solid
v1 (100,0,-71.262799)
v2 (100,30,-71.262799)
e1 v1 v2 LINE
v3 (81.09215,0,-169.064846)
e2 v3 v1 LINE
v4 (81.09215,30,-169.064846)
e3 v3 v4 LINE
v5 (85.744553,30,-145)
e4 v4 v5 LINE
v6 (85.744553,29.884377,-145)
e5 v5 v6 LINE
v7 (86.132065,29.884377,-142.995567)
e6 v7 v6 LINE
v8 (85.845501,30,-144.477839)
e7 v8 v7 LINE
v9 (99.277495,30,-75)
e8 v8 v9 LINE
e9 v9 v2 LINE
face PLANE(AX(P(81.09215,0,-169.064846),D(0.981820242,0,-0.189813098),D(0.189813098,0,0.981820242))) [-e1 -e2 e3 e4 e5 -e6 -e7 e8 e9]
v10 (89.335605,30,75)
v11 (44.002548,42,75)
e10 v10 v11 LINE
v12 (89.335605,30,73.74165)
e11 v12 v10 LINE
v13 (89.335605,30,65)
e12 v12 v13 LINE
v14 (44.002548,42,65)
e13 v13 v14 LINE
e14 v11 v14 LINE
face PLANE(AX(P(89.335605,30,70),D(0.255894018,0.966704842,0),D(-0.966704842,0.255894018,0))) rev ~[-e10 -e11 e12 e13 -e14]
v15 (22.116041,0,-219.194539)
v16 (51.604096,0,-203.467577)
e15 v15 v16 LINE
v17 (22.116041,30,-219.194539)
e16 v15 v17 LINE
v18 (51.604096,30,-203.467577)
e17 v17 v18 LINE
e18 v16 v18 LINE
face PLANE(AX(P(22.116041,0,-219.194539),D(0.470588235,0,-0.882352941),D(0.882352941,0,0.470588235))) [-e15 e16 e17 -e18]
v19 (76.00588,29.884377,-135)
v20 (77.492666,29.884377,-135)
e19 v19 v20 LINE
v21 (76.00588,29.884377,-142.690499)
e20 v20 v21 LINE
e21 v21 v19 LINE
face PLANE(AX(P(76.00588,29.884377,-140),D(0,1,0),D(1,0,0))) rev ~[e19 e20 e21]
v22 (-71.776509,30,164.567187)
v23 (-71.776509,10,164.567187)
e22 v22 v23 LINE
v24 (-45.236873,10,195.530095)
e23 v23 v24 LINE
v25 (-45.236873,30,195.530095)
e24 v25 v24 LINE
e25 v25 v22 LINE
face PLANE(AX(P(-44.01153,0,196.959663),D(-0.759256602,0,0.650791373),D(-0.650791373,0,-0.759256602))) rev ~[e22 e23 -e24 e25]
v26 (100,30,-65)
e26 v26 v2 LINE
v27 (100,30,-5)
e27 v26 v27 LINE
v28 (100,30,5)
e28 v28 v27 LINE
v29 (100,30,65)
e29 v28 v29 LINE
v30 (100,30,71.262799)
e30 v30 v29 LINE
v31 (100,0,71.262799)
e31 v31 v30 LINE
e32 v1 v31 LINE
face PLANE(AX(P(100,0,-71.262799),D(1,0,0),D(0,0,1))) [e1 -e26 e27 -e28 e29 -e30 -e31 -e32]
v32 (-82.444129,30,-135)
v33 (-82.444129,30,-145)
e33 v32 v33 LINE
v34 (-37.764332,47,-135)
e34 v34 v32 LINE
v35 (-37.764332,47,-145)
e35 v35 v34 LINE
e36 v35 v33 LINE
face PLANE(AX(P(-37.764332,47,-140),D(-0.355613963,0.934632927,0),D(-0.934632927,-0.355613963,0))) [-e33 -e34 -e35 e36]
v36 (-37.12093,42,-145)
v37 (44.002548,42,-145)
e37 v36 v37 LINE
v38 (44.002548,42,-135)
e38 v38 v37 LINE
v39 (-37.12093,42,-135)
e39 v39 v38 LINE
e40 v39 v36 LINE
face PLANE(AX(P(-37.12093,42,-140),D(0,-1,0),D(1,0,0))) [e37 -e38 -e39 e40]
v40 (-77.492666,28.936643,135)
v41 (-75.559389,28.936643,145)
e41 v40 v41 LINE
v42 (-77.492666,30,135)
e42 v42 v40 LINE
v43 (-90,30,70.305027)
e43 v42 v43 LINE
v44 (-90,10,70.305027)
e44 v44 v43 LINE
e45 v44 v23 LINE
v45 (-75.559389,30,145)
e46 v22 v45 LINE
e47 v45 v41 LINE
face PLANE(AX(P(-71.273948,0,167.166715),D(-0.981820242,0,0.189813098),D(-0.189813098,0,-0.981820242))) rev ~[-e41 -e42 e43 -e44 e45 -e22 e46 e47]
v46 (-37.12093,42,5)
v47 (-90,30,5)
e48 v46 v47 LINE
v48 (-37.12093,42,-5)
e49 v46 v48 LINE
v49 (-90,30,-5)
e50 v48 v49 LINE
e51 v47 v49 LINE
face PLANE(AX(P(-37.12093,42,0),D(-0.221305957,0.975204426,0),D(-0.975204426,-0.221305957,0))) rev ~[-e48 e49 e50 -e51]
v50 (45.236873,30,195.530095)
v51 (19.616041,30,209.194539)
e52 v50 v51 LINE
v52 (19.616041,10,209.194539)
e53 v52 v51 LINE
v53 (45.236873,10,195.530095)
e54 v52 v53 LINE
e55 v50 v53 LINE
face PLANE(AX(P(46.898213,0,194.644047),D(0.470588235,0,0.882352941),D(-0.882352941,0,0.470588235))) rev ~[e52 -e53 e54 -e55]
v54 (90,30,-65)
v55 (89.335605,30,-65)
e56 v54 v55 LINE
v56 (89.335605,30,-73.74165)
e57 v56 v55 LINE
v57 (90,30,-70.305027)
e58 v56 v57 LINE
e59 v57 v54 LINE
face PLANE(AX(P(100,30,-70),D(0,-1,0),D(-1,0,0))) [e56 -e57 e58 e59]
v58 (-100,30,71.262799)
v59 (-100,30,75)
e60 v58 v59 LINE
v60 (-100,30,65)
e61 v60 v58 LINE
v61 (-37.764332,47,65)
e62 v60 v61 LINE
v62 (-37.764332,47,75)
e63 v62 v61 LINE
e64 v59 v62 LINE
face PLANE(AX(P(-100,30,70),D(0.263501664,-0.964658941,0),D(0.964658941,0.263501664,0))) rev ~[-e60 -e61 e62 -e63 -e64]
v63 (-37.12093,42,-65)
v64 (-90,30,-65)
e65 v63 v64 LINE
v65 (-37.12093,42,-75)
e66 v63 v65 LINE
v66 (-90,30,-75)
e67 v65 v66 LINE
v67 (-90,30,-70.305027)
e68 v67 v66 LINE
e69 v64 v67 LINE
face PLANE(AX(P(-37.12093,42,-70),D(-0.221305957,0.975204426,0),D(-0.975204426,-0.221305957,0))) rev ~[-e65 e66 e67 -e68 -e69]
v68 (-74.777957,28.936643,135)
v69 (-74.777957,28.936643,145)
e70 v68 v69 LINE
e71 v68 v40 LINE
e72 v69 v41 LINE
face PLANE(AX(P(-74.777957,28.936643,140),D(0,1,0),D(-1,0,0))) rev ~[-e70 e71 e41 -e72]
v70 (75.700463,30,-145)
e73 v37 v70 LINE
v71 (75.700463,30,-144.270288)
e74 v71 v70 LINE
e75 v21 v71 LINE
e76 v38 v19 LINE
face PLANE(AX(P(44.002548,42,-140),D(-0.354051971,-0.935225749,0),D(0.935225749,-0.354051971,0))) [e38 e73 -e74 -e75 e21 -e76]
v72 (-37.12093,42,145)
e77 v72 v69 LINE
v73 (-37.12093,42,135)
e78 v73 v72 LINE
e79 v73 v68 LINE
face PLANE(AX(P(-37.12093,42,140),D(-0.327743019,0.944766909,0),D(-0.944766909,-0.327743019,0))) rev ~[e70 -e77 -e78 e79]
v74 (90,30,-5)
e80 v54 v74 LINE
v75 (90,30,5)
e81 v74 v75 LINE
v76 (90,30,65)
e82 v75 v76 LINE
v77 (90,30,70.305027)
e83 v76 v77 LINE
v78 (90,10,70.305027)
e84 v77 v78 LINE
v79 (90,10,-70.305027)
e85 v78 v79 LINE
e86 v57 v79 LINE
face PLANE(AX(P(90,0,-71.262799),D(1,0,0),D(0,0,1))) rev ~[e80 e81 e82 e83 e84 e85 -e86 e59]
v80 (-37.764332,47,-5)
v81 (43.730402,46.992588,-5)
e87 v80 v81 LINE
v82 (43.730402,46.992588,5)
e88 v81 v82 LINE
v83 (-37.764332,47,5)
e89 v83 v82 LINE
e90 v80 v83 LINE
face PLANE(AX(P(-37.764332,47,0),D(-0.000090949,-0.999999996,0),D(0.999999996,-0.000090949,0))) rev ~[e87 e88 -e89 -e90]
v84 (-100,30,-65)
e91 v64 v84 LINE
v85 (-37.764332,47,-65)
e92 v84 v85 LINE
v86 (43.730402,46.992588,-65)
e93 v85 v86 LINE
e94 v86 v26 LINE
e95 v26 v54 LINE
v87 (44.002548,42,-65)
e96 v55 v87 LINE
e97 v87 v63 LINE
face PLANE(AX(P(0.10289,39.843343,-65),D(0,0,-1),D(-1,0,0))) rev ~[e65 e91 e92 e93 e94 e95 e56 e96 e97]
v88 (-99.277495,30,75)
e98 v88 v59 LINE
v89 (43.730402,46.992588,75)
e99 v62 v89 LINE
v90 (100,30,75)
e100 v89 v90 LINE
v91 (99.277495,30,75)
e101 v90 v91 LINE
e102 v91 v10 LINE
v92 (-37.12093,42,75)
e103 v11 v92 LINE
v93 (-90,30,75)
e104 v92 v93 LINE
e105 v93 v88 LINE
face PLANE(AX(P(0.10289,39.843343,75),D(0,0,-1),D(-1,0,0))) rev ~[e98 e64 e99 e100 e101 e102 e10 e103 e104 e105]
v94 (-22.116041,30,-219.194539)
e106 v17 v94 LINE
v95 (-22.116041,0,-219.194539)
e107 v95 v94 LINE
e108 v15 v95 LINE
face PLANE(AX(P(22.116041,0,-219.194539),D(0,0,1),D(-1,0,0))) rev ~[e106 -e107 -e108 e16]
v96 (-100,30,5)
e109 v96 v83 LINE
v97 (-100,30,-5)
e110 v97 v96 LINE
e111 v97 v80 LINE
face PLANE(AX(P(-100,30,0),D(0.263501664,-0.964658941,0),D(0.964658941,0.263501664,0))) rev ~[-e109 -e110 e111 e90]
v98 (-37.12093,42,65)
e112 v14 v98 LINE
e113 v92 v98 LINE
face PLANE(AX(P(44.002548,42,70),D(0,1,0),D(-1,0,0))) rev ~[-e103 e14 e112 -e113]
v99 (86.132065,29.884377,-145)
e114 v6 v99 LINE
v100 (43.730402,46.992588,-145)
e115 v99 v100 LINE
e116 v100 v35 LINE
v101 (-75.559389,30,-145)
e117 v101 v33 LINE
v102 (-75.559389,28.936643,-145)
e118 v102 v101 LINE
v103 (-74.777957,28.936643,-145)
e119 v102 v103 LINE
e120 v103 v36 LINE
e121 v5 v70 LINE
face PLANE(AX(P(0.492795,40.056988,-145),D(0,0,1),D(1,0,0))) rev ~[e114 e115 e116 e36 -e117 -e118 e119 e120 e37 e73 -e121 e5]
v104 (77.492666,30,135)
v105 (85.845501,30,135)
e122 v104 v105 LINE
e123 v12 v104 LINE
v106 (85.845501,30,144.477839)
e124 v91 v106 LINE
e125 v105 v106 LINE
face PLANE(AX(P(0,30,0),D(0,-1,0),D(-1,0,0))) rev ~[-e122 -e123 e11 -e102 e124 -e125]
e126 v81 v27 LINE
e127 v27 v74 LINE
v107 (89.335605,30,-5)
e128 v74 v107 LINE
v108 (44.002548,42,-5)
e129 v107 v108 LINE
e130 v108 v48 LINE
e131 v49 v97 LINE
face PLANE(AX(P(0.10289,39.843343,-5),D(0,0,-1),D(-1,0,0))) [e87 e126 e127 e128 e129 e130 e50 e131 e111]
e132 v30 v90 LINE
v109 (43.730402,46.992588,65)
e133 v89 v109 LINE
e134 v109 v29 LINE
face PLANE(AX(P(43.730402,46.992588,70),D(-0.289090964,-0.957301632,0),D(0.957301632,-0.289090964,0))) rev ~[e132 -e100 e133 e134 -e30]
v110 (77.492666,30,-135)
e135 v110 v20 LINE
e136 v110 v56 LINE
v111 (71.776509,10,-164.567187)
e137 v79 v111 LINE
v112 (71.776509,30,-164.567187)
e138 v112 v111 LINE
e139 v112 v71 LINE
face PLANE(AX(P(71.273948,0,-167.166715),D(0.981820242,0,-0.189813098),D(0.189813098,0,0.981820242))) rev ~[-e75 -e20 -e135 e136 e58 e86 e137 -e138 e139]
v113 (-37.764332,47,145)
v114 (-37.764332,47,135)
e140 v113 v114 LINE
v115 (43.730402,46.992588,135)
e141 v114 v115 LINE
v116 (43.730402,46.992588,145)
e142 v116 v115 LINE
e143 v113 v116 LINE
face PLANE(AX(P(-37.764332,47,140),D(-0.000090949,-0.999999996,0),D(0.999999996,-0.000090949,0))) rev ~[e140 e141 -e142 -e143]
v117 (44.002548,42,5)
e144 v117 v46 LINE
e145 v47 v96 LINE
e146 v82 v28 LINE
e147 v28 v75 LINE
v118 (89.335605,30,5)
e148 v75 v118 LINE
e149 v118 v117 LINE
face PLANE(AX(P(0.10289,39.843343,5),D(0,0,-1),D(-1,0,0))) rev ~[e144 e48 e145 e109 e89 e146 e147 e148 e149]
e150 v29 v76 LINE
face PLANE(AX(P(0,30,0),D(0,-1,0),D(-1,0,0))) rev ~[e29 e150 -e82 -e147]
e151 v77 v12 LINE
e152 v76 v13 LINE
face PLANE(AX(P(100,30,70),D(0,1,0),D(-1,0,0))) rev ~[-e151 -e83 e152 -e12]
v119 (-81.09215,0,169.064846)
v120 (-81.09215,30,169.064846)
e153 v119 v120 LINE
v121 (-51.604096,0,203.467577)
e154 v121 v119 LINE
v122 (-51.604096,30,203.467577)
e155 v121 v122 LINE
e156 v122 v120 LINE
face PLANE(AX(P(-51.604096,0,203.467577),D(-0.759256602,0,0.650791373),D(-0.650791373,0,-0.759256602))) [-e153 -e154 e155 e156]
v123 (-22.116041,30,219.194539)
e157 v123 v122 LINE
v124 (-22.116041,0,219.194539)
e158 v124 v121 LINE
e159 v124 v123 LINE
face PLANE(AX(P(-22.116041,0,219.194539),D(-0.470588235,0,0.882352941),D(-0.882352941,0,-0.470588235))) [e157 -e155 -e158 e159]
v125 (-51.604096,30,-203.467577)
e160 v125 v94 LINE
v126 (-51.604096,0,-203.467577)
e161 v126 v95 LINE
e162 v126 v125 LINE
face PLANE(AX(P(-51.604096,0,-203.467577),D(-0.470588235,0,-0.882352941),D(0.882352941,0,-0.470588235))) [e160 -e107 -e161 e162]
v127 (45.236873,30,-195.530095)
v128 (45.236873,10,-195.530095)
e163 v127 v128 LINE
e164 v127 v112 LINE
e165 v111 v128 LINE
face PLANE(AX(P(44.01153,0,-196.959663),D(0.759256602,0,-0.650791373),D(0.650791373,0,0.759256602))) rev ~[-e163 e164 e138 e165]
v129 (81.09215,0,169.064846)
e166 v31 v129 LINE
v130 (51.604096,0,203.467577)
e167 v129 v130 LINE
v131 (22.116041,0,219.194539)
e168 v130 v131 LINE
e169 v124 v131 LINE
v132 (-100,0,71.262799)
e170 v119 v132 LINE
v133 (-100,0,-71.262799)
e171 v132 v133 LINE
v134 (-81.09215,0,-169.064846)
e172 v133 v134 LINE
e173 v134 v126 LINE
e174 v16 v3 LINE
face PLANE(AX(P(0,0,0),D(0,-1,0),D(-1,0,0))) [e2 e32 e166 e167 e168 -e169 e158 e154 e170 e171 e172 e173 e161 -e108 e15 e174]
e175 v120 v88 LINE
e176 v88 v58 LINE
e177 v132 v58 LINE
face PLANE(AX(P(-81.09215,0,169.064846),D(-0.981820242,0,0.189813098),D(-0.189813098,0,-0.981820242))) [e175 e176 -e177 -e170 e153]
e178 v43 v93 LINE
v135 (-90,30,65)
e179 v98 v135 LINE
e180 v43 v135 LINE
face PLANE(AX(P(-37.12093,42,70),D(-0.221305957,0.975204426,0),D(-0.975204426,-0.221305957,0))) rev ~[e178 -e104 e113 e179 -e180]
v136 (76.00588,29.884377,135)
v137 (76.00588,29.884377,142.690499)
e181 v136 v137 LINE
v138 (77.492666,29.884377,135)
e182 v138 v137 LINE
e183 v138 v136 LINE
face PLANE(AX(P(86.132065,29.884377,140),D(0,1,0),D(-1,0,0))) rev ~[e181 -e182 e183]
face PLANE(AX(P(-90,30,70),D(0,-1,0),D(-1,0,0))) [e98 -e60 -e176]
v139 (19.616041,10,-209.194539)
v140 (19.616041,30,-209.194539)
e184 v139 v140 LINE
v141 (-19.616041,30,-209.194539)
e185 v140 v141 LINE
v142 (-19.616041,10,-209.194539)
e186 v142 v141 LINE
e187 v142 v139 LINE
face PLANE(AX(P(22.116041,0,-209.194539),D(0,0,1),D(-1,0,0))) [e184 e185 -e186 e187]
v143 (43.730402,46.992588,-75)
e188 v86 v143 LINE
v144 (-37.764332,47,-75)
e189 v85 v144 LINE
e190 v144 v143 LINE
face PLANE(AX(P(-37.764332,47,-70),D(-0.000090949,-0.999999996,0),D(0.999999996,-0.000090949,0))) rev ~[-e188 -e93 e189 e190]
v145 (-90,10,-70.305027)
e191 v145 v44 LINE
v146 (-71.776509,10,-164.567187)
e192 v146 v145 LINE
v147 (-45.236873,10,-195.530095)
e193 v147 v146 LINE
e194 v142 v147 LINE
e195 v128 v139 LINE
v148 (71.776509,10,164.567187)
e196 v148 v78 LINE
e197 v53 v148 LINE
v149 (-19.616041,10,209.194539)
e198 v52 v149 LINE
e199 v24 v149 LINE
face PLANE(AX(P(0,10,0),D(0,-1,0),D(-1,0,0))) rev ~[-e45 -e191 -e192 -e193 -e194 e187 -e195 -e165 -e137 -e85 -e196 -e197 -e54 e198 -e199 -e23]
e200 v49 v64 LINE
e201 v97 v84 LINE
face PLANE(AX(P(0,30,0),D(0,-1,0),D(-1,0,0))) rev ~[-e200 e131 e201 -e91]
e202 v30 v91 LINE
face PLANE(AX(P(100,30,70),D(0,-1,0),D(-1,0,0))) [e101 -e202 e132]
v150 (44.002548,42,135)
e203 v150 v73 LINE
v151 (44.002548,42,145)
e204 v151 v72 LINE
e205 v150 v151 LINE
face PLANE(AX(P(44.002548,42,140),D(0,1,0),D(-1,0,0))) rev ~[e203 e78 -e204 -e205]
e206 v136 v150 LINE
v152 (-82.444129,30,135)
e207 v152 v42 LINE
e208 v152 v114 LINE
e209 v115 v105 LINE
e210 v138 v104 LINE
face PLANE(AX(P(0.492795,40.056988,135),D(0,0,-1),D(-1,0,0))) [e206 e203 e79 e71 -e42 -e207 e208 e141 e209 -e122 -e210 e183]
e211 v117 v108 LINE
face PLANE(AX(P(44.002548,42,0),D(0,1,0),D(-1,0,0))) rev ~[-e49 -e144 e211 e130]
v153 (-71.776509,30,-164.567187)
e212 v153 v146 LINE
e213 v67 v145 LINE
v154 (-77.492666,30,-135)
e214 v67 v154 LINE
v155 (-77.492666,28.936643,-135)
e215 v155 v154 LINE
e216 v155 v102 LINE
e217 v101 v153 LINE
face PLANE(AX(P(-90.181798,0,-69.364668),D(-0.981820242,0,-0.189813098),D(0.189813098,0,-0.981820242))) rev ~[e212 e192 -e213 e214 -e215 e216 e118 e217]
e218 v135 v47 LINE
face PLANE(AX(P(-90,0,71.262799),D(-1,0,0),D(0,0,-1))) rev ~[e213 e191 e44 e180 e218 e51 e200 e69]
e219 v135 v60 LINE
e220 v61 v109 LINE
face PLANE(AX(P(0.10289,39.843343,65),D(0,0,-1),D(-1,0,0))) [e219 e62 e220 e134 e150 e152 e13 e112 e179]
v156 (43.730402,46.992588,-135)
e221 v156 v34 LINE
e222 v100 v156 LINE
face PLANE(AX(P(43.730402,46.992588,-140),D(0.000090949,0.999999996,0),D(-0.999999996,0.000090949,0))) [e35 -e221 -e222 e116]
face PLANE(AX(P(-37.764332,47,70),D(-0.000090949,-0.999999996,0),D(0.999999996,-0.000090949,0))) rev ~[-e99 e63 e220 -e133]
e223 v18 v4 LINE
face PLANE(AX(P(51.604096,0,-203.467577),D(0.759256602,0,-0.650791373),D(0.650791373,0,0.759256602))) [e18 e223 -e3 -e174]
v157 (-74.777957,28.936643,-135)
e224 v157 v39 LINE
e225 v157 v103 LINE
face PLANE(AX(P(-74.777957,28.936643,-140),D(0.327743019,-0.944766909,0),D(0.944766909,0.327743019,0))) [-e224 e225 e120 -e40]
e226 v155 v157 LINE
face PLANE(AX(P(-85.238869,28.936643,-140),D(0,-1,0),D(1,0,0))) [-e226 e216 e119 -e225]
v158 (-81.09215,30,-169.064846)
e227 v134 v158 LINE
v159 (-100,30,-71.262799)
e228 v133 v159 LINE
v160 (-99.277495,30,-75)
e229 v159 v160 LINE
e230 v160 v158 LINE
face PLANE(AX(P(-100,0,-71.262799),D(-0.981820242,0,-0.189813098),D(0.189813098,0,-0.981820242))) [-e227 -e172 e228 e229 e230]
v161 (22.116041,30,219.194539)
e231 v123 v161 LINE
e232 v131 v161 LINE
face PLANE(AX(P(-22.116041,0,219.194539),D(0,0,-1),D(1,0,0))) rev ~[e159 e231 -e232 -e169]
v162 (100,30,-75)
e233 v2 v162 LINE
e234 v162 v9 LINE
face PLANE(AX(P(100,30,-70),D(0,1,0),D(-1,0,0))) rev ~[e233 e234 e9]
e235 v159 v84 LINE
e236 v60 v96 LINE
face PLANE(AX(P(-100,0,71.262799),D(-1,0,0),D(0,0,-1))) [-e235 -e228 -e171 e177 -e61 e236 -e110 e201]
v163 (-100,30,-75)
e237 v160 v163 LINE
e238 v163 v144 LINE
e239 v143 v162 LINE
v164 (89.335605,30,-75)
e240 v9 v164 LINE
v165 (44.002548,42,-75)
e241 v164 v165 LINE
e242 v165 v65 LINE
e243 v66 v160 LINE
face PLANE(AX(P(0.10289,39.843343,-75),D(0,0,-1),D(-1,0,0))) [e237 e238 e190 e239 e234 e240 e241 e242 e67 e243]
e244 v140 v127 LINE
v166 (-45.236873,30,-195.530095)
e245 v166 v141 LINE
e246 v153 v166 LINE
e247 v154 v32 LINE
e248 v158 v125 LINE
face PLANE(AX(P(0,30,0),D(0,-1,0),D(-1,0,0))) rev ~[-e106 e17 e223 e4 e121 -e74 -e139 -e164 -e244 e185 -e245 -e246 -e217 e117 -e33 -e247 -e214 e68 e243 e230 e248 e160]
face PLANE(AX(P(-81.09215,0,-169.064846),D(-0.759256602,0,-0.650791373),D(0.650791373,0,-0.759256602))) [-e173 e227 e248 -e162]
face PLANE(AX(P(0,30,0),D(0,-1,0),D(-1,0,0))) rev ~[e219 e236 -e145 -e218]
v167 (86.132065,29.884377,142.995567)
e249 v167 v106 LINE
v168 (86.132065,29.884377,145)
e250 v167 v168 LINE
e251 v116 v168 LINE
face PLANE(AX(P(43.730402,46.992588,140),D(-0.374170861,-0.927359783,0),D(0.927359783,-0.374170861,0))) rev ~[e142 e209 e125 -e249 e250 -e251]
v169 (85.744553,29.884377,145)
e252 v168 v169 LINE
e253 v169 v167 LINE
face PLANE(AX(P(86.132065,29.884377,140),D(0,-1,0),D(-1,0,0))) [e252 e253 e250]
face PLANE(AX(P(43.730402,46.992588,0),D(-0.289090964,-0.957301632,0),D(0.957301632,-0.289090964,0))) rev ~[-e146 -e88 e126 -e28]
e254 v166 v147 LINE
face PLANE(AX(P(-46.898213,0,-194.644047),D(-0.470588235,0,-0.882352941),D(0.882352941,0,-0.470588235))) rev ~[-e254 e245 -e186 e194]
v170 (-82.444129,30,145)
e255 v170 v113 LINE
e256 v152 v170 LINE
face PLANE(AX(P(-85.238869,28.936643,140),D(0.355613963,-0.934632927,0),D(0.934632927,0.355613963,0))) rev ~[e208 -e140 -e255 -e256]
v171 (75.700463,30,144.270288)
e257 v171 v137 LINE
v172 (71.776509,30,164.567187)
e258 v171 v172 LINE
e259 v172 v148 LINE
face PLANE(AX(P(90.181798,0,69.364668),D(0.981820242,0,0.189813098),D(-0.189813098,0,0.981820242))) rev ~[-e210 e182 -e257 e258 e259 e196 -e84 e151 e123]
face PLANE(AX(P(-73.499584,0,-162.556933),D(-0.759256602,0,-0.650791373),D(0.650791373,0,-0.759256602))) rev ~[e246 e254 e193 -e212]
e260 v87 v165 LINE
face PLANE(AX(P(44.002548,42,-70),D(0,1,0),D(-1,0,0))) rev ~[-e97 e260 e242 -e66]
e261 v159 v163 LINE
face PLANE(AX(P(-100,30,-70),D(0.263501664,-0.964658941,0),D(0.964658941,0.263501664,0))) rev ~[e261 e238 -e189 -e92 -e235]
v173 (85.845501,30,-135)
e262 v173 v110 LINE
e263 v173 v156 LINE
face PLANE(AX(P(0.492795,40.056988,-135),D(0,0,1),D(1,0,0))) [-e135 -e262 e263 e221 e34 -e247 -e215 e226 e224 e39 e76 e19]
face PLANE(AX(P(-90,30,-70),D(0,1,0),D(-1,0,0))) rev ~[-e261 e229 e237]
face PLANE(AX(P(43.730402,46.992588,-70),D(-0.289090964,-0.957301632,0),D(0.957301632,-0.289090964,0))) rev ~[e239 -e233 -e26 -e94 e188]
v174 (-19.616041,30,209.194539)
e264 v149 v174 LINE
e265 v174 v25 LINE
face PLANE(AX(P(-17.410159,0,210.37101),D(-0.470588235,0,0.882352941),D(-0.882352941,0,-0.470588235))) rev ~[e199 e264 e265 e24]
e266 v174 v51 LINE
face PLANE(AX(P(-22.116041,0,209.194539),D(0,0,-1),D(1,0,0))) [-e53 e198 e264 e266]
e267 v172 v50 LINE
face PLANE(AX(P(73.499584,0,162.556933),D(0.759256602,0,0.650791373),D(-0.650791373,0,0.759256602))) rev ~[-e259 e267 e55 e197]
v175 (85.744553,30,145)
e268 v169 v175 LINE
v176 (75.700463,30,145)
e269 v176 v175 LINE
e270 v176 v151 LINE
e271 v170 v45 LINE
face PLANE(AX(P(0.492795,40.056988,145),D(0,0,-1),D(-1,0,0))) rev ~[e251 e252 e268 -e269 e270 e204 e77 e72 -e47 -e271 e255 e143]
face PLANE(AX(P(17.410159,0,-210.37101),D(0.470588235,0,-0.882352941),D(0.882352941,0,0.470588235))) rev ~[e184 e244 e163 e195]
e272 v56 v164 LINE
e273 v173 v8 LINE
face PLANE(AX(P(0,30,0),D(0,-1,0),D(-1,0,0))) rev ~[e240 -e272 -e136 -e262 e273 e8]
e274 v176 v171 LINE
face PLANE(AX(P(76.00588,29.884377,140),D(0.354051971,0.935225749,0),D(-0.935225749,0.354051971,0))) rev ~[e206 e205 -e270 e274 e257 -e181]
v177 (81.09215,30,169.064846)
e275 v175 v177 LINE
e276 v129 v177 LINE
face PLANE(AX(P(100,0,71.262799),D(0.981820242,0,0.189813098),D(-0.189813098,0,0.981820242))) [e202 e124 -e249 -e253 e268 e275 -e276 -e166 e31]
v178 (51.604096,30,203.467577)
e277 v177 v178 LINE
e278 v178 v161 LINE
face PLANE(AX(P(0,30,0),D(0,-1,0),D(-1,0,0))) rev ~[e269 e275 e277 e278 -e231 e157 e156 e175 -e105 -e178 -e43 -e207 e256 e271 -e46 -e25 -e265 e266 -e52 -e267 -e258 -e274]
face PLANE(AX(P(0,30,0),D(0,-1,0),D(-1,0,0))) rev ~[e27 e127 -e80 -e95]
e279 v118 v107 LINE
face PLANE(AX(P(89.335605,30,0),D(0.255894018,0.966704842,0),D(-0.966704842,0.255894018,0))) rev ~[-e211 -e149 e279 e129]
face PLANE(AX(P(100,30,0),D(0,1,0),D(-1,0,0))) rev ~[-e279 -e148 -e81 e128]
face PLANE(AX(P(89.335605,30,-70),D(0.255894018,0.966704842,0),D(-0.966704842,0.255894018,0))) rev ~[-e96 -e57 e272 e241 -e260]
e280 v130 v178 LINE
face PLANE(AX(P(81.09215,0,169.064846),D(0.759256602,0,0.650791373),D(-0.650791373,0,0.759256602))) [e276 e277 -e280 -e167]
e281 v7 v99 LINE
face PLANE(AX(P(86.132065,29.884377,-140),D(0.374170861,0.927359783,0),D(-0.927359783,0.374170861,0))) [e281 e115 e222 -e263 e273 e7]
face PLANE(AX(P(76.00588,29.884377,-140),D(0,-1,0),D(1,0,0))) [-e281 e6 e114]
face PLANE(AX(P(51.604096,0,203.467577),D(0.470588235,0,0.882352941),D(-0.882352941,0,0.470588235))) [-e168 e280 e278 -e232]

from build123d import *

# Parameters (mm, degrees)
BOSS_EXTRUDE1_DEPTH      = 30
SHELL1_T                 = -10
BOSS_EXTRUDE2_DEPTH      = 5
BOSS_EXTRUDE2_DEPTH_BACK = 5
BOSS_EXTRUDE3_DEPTH      = 5
BOSS_EXTRUDE3_DEPTH_BACK = 5
BOSS_EXTRUDE4_DEPTH      = 5
BOSS_EXTRUDE4_DEPTH_BACK = 5
BOSS_EXTRUDE5_DEPTH      = 5
BOSS_EXTRUDE5_DEPTH_BACK = 5
BOSS_EXTRUDE6_DEPTH      = 5
BOSS_EXTRUDE6_DEPTH_BACK = 5


with BuildPart() as part:
    # Sketch1 → Boss-Extrude1 (new body)
    with BuildSketch(Plane(origin=(0, 0, 0), x_dir=(1, 0, 0), z_dir=(0, 1, 0))):
        Polygon((-100, -71.262798635), (-100, 71.262798635), (-81.092150171, 169.064846416), (-51.604095563, 203.467576792), (-22.116040956, 219.194539249), (-2.218430034, 219.194539249), (2.218430034, 219.194539249), (22.116040956, 219.194539249), (51.604095563, 203.467576792), (81.092150171, 169.064846416), (100, 71.262798635), (100, -71.262798635), (81.092150171, -169.064846416), (51.604095563, -203.467576792), (22.116040956, -219.194539249), (2.218430034, -219.194539249), (-2.218430034, -219.194539249), (-22.116040956, -219.194539249), (-51.604095563, -203.467576792), (-81.092150171, -169.064846416), align=None)
    extrude(amount=BOSS_EXTRUDE1_DEPTH)

    # Shell1
    shell1_openings = [part.faces().sort_by_distance(p)[0] for p in [
        (0, 30, 0),
    ]]
    offset(amount=SHELL1_T, openings=shell1_openings, kind=Kind.INTERSECTION)

    # Sketch8 → Boss-Extrude2 (add, two sides)
    with BuildSketch(Plane.XY.offset(140)) as boss_extrude2_sk:
        Polygon((-85.23886946, 28.936642873), (-37.764332208, 47), (43.730401993, 46.992588144), (86.132065283, 29.884377125), (76.005879539, 29.884377125), (44.002548329, 42), (-37.120930368, 42), (-74.777956797, 28.936642873), align=None)
    extrude(amount=BOSS_EXTRUDE2_DEPTH)
    extrude(boss_extrude2_sk.sketch, amount=-BOSS_EXTRUDE2_DEPTH_BACK)

    # Sketch4 → Boss-Extrude3 (add, two sides)
    with BuildSketch(Plane.XY.offset(70)) as boss_extrude3_sk:
        Polygon((-100, 30), (-37.764332208, 47), (43.730401993, 46.992588144), (100, 30), (89.335605337, 30), (44.002548329, 42), (-37.120930368, 42), (-90, 30), align=None)
    extrude(amount=BOSS_EXTRUDE3_DEPTH)
    extrude(boss_extrude3_sk.sketch, amount=-BOSS_EXTRUDE3_DEPTH_BACK)

    # Sketch5 → Boss-Extrude4 (add, two sides)
    with BuildSketch(Plane.XY.offset(-70)) as boss_extrude4_sk:
        Polygon((-100, 30), (-37.764332208, 47), (43.730401993, 46.992588144), (100, 30), (89.335605337, 30), (44.002548329, 42), (-37.120930368, 42), (-90, 30), align=None)
    extrude(amount=BOSS_EXTRUDE4_DEPTH)
    extrude(boss_extrude4_sk.sketch, amount=-BOSS_EXTRUDE4_DEPTH_BACK)

    # Sketch7 → Boss-Extrude5 (add, two sides)
    with BuildSketch(Plane.XY.offset(-140)) as boss_extrude5_sk:
        Polygon((86.132065283, 29.884377125), (43.730401993, 46.992588144), (-37.764332208, 47), (-85.23886946, 28.936642873), (-74.777956797, 28.936642873), (-37.120930368, 42), (44.002548329, 42), (76.005879539, 29.884377125), align=None)
    extrude(amount=BOSS_EXTRUDE5_DEPTH)
    extrude(boss_extrude5_sk.sketch, amount=-BOSS_EXTRUDE5_DEPTH_BACK)

    # Sketch2 → Boss-Extrude6 (add, two sides)
    with BuildSketch(Plane.XY) as boss_extrude6_sk:
        Polygon((43.730401993, 46.992588144), (100, 30), (89.335605337, 30), (44.002548329, 42), (-37.120930368, 42), (-90, 30), (-100, 30), (-37.764332208, 47), align=None)
    extrude(amount=BOSS_EXTRUDE6_DEPTH)
    extrude(boss_extrude6_sk.sketch, amount=-BOSS_EXTRUDE6_DEPTH_BACK)


solid = part.part
